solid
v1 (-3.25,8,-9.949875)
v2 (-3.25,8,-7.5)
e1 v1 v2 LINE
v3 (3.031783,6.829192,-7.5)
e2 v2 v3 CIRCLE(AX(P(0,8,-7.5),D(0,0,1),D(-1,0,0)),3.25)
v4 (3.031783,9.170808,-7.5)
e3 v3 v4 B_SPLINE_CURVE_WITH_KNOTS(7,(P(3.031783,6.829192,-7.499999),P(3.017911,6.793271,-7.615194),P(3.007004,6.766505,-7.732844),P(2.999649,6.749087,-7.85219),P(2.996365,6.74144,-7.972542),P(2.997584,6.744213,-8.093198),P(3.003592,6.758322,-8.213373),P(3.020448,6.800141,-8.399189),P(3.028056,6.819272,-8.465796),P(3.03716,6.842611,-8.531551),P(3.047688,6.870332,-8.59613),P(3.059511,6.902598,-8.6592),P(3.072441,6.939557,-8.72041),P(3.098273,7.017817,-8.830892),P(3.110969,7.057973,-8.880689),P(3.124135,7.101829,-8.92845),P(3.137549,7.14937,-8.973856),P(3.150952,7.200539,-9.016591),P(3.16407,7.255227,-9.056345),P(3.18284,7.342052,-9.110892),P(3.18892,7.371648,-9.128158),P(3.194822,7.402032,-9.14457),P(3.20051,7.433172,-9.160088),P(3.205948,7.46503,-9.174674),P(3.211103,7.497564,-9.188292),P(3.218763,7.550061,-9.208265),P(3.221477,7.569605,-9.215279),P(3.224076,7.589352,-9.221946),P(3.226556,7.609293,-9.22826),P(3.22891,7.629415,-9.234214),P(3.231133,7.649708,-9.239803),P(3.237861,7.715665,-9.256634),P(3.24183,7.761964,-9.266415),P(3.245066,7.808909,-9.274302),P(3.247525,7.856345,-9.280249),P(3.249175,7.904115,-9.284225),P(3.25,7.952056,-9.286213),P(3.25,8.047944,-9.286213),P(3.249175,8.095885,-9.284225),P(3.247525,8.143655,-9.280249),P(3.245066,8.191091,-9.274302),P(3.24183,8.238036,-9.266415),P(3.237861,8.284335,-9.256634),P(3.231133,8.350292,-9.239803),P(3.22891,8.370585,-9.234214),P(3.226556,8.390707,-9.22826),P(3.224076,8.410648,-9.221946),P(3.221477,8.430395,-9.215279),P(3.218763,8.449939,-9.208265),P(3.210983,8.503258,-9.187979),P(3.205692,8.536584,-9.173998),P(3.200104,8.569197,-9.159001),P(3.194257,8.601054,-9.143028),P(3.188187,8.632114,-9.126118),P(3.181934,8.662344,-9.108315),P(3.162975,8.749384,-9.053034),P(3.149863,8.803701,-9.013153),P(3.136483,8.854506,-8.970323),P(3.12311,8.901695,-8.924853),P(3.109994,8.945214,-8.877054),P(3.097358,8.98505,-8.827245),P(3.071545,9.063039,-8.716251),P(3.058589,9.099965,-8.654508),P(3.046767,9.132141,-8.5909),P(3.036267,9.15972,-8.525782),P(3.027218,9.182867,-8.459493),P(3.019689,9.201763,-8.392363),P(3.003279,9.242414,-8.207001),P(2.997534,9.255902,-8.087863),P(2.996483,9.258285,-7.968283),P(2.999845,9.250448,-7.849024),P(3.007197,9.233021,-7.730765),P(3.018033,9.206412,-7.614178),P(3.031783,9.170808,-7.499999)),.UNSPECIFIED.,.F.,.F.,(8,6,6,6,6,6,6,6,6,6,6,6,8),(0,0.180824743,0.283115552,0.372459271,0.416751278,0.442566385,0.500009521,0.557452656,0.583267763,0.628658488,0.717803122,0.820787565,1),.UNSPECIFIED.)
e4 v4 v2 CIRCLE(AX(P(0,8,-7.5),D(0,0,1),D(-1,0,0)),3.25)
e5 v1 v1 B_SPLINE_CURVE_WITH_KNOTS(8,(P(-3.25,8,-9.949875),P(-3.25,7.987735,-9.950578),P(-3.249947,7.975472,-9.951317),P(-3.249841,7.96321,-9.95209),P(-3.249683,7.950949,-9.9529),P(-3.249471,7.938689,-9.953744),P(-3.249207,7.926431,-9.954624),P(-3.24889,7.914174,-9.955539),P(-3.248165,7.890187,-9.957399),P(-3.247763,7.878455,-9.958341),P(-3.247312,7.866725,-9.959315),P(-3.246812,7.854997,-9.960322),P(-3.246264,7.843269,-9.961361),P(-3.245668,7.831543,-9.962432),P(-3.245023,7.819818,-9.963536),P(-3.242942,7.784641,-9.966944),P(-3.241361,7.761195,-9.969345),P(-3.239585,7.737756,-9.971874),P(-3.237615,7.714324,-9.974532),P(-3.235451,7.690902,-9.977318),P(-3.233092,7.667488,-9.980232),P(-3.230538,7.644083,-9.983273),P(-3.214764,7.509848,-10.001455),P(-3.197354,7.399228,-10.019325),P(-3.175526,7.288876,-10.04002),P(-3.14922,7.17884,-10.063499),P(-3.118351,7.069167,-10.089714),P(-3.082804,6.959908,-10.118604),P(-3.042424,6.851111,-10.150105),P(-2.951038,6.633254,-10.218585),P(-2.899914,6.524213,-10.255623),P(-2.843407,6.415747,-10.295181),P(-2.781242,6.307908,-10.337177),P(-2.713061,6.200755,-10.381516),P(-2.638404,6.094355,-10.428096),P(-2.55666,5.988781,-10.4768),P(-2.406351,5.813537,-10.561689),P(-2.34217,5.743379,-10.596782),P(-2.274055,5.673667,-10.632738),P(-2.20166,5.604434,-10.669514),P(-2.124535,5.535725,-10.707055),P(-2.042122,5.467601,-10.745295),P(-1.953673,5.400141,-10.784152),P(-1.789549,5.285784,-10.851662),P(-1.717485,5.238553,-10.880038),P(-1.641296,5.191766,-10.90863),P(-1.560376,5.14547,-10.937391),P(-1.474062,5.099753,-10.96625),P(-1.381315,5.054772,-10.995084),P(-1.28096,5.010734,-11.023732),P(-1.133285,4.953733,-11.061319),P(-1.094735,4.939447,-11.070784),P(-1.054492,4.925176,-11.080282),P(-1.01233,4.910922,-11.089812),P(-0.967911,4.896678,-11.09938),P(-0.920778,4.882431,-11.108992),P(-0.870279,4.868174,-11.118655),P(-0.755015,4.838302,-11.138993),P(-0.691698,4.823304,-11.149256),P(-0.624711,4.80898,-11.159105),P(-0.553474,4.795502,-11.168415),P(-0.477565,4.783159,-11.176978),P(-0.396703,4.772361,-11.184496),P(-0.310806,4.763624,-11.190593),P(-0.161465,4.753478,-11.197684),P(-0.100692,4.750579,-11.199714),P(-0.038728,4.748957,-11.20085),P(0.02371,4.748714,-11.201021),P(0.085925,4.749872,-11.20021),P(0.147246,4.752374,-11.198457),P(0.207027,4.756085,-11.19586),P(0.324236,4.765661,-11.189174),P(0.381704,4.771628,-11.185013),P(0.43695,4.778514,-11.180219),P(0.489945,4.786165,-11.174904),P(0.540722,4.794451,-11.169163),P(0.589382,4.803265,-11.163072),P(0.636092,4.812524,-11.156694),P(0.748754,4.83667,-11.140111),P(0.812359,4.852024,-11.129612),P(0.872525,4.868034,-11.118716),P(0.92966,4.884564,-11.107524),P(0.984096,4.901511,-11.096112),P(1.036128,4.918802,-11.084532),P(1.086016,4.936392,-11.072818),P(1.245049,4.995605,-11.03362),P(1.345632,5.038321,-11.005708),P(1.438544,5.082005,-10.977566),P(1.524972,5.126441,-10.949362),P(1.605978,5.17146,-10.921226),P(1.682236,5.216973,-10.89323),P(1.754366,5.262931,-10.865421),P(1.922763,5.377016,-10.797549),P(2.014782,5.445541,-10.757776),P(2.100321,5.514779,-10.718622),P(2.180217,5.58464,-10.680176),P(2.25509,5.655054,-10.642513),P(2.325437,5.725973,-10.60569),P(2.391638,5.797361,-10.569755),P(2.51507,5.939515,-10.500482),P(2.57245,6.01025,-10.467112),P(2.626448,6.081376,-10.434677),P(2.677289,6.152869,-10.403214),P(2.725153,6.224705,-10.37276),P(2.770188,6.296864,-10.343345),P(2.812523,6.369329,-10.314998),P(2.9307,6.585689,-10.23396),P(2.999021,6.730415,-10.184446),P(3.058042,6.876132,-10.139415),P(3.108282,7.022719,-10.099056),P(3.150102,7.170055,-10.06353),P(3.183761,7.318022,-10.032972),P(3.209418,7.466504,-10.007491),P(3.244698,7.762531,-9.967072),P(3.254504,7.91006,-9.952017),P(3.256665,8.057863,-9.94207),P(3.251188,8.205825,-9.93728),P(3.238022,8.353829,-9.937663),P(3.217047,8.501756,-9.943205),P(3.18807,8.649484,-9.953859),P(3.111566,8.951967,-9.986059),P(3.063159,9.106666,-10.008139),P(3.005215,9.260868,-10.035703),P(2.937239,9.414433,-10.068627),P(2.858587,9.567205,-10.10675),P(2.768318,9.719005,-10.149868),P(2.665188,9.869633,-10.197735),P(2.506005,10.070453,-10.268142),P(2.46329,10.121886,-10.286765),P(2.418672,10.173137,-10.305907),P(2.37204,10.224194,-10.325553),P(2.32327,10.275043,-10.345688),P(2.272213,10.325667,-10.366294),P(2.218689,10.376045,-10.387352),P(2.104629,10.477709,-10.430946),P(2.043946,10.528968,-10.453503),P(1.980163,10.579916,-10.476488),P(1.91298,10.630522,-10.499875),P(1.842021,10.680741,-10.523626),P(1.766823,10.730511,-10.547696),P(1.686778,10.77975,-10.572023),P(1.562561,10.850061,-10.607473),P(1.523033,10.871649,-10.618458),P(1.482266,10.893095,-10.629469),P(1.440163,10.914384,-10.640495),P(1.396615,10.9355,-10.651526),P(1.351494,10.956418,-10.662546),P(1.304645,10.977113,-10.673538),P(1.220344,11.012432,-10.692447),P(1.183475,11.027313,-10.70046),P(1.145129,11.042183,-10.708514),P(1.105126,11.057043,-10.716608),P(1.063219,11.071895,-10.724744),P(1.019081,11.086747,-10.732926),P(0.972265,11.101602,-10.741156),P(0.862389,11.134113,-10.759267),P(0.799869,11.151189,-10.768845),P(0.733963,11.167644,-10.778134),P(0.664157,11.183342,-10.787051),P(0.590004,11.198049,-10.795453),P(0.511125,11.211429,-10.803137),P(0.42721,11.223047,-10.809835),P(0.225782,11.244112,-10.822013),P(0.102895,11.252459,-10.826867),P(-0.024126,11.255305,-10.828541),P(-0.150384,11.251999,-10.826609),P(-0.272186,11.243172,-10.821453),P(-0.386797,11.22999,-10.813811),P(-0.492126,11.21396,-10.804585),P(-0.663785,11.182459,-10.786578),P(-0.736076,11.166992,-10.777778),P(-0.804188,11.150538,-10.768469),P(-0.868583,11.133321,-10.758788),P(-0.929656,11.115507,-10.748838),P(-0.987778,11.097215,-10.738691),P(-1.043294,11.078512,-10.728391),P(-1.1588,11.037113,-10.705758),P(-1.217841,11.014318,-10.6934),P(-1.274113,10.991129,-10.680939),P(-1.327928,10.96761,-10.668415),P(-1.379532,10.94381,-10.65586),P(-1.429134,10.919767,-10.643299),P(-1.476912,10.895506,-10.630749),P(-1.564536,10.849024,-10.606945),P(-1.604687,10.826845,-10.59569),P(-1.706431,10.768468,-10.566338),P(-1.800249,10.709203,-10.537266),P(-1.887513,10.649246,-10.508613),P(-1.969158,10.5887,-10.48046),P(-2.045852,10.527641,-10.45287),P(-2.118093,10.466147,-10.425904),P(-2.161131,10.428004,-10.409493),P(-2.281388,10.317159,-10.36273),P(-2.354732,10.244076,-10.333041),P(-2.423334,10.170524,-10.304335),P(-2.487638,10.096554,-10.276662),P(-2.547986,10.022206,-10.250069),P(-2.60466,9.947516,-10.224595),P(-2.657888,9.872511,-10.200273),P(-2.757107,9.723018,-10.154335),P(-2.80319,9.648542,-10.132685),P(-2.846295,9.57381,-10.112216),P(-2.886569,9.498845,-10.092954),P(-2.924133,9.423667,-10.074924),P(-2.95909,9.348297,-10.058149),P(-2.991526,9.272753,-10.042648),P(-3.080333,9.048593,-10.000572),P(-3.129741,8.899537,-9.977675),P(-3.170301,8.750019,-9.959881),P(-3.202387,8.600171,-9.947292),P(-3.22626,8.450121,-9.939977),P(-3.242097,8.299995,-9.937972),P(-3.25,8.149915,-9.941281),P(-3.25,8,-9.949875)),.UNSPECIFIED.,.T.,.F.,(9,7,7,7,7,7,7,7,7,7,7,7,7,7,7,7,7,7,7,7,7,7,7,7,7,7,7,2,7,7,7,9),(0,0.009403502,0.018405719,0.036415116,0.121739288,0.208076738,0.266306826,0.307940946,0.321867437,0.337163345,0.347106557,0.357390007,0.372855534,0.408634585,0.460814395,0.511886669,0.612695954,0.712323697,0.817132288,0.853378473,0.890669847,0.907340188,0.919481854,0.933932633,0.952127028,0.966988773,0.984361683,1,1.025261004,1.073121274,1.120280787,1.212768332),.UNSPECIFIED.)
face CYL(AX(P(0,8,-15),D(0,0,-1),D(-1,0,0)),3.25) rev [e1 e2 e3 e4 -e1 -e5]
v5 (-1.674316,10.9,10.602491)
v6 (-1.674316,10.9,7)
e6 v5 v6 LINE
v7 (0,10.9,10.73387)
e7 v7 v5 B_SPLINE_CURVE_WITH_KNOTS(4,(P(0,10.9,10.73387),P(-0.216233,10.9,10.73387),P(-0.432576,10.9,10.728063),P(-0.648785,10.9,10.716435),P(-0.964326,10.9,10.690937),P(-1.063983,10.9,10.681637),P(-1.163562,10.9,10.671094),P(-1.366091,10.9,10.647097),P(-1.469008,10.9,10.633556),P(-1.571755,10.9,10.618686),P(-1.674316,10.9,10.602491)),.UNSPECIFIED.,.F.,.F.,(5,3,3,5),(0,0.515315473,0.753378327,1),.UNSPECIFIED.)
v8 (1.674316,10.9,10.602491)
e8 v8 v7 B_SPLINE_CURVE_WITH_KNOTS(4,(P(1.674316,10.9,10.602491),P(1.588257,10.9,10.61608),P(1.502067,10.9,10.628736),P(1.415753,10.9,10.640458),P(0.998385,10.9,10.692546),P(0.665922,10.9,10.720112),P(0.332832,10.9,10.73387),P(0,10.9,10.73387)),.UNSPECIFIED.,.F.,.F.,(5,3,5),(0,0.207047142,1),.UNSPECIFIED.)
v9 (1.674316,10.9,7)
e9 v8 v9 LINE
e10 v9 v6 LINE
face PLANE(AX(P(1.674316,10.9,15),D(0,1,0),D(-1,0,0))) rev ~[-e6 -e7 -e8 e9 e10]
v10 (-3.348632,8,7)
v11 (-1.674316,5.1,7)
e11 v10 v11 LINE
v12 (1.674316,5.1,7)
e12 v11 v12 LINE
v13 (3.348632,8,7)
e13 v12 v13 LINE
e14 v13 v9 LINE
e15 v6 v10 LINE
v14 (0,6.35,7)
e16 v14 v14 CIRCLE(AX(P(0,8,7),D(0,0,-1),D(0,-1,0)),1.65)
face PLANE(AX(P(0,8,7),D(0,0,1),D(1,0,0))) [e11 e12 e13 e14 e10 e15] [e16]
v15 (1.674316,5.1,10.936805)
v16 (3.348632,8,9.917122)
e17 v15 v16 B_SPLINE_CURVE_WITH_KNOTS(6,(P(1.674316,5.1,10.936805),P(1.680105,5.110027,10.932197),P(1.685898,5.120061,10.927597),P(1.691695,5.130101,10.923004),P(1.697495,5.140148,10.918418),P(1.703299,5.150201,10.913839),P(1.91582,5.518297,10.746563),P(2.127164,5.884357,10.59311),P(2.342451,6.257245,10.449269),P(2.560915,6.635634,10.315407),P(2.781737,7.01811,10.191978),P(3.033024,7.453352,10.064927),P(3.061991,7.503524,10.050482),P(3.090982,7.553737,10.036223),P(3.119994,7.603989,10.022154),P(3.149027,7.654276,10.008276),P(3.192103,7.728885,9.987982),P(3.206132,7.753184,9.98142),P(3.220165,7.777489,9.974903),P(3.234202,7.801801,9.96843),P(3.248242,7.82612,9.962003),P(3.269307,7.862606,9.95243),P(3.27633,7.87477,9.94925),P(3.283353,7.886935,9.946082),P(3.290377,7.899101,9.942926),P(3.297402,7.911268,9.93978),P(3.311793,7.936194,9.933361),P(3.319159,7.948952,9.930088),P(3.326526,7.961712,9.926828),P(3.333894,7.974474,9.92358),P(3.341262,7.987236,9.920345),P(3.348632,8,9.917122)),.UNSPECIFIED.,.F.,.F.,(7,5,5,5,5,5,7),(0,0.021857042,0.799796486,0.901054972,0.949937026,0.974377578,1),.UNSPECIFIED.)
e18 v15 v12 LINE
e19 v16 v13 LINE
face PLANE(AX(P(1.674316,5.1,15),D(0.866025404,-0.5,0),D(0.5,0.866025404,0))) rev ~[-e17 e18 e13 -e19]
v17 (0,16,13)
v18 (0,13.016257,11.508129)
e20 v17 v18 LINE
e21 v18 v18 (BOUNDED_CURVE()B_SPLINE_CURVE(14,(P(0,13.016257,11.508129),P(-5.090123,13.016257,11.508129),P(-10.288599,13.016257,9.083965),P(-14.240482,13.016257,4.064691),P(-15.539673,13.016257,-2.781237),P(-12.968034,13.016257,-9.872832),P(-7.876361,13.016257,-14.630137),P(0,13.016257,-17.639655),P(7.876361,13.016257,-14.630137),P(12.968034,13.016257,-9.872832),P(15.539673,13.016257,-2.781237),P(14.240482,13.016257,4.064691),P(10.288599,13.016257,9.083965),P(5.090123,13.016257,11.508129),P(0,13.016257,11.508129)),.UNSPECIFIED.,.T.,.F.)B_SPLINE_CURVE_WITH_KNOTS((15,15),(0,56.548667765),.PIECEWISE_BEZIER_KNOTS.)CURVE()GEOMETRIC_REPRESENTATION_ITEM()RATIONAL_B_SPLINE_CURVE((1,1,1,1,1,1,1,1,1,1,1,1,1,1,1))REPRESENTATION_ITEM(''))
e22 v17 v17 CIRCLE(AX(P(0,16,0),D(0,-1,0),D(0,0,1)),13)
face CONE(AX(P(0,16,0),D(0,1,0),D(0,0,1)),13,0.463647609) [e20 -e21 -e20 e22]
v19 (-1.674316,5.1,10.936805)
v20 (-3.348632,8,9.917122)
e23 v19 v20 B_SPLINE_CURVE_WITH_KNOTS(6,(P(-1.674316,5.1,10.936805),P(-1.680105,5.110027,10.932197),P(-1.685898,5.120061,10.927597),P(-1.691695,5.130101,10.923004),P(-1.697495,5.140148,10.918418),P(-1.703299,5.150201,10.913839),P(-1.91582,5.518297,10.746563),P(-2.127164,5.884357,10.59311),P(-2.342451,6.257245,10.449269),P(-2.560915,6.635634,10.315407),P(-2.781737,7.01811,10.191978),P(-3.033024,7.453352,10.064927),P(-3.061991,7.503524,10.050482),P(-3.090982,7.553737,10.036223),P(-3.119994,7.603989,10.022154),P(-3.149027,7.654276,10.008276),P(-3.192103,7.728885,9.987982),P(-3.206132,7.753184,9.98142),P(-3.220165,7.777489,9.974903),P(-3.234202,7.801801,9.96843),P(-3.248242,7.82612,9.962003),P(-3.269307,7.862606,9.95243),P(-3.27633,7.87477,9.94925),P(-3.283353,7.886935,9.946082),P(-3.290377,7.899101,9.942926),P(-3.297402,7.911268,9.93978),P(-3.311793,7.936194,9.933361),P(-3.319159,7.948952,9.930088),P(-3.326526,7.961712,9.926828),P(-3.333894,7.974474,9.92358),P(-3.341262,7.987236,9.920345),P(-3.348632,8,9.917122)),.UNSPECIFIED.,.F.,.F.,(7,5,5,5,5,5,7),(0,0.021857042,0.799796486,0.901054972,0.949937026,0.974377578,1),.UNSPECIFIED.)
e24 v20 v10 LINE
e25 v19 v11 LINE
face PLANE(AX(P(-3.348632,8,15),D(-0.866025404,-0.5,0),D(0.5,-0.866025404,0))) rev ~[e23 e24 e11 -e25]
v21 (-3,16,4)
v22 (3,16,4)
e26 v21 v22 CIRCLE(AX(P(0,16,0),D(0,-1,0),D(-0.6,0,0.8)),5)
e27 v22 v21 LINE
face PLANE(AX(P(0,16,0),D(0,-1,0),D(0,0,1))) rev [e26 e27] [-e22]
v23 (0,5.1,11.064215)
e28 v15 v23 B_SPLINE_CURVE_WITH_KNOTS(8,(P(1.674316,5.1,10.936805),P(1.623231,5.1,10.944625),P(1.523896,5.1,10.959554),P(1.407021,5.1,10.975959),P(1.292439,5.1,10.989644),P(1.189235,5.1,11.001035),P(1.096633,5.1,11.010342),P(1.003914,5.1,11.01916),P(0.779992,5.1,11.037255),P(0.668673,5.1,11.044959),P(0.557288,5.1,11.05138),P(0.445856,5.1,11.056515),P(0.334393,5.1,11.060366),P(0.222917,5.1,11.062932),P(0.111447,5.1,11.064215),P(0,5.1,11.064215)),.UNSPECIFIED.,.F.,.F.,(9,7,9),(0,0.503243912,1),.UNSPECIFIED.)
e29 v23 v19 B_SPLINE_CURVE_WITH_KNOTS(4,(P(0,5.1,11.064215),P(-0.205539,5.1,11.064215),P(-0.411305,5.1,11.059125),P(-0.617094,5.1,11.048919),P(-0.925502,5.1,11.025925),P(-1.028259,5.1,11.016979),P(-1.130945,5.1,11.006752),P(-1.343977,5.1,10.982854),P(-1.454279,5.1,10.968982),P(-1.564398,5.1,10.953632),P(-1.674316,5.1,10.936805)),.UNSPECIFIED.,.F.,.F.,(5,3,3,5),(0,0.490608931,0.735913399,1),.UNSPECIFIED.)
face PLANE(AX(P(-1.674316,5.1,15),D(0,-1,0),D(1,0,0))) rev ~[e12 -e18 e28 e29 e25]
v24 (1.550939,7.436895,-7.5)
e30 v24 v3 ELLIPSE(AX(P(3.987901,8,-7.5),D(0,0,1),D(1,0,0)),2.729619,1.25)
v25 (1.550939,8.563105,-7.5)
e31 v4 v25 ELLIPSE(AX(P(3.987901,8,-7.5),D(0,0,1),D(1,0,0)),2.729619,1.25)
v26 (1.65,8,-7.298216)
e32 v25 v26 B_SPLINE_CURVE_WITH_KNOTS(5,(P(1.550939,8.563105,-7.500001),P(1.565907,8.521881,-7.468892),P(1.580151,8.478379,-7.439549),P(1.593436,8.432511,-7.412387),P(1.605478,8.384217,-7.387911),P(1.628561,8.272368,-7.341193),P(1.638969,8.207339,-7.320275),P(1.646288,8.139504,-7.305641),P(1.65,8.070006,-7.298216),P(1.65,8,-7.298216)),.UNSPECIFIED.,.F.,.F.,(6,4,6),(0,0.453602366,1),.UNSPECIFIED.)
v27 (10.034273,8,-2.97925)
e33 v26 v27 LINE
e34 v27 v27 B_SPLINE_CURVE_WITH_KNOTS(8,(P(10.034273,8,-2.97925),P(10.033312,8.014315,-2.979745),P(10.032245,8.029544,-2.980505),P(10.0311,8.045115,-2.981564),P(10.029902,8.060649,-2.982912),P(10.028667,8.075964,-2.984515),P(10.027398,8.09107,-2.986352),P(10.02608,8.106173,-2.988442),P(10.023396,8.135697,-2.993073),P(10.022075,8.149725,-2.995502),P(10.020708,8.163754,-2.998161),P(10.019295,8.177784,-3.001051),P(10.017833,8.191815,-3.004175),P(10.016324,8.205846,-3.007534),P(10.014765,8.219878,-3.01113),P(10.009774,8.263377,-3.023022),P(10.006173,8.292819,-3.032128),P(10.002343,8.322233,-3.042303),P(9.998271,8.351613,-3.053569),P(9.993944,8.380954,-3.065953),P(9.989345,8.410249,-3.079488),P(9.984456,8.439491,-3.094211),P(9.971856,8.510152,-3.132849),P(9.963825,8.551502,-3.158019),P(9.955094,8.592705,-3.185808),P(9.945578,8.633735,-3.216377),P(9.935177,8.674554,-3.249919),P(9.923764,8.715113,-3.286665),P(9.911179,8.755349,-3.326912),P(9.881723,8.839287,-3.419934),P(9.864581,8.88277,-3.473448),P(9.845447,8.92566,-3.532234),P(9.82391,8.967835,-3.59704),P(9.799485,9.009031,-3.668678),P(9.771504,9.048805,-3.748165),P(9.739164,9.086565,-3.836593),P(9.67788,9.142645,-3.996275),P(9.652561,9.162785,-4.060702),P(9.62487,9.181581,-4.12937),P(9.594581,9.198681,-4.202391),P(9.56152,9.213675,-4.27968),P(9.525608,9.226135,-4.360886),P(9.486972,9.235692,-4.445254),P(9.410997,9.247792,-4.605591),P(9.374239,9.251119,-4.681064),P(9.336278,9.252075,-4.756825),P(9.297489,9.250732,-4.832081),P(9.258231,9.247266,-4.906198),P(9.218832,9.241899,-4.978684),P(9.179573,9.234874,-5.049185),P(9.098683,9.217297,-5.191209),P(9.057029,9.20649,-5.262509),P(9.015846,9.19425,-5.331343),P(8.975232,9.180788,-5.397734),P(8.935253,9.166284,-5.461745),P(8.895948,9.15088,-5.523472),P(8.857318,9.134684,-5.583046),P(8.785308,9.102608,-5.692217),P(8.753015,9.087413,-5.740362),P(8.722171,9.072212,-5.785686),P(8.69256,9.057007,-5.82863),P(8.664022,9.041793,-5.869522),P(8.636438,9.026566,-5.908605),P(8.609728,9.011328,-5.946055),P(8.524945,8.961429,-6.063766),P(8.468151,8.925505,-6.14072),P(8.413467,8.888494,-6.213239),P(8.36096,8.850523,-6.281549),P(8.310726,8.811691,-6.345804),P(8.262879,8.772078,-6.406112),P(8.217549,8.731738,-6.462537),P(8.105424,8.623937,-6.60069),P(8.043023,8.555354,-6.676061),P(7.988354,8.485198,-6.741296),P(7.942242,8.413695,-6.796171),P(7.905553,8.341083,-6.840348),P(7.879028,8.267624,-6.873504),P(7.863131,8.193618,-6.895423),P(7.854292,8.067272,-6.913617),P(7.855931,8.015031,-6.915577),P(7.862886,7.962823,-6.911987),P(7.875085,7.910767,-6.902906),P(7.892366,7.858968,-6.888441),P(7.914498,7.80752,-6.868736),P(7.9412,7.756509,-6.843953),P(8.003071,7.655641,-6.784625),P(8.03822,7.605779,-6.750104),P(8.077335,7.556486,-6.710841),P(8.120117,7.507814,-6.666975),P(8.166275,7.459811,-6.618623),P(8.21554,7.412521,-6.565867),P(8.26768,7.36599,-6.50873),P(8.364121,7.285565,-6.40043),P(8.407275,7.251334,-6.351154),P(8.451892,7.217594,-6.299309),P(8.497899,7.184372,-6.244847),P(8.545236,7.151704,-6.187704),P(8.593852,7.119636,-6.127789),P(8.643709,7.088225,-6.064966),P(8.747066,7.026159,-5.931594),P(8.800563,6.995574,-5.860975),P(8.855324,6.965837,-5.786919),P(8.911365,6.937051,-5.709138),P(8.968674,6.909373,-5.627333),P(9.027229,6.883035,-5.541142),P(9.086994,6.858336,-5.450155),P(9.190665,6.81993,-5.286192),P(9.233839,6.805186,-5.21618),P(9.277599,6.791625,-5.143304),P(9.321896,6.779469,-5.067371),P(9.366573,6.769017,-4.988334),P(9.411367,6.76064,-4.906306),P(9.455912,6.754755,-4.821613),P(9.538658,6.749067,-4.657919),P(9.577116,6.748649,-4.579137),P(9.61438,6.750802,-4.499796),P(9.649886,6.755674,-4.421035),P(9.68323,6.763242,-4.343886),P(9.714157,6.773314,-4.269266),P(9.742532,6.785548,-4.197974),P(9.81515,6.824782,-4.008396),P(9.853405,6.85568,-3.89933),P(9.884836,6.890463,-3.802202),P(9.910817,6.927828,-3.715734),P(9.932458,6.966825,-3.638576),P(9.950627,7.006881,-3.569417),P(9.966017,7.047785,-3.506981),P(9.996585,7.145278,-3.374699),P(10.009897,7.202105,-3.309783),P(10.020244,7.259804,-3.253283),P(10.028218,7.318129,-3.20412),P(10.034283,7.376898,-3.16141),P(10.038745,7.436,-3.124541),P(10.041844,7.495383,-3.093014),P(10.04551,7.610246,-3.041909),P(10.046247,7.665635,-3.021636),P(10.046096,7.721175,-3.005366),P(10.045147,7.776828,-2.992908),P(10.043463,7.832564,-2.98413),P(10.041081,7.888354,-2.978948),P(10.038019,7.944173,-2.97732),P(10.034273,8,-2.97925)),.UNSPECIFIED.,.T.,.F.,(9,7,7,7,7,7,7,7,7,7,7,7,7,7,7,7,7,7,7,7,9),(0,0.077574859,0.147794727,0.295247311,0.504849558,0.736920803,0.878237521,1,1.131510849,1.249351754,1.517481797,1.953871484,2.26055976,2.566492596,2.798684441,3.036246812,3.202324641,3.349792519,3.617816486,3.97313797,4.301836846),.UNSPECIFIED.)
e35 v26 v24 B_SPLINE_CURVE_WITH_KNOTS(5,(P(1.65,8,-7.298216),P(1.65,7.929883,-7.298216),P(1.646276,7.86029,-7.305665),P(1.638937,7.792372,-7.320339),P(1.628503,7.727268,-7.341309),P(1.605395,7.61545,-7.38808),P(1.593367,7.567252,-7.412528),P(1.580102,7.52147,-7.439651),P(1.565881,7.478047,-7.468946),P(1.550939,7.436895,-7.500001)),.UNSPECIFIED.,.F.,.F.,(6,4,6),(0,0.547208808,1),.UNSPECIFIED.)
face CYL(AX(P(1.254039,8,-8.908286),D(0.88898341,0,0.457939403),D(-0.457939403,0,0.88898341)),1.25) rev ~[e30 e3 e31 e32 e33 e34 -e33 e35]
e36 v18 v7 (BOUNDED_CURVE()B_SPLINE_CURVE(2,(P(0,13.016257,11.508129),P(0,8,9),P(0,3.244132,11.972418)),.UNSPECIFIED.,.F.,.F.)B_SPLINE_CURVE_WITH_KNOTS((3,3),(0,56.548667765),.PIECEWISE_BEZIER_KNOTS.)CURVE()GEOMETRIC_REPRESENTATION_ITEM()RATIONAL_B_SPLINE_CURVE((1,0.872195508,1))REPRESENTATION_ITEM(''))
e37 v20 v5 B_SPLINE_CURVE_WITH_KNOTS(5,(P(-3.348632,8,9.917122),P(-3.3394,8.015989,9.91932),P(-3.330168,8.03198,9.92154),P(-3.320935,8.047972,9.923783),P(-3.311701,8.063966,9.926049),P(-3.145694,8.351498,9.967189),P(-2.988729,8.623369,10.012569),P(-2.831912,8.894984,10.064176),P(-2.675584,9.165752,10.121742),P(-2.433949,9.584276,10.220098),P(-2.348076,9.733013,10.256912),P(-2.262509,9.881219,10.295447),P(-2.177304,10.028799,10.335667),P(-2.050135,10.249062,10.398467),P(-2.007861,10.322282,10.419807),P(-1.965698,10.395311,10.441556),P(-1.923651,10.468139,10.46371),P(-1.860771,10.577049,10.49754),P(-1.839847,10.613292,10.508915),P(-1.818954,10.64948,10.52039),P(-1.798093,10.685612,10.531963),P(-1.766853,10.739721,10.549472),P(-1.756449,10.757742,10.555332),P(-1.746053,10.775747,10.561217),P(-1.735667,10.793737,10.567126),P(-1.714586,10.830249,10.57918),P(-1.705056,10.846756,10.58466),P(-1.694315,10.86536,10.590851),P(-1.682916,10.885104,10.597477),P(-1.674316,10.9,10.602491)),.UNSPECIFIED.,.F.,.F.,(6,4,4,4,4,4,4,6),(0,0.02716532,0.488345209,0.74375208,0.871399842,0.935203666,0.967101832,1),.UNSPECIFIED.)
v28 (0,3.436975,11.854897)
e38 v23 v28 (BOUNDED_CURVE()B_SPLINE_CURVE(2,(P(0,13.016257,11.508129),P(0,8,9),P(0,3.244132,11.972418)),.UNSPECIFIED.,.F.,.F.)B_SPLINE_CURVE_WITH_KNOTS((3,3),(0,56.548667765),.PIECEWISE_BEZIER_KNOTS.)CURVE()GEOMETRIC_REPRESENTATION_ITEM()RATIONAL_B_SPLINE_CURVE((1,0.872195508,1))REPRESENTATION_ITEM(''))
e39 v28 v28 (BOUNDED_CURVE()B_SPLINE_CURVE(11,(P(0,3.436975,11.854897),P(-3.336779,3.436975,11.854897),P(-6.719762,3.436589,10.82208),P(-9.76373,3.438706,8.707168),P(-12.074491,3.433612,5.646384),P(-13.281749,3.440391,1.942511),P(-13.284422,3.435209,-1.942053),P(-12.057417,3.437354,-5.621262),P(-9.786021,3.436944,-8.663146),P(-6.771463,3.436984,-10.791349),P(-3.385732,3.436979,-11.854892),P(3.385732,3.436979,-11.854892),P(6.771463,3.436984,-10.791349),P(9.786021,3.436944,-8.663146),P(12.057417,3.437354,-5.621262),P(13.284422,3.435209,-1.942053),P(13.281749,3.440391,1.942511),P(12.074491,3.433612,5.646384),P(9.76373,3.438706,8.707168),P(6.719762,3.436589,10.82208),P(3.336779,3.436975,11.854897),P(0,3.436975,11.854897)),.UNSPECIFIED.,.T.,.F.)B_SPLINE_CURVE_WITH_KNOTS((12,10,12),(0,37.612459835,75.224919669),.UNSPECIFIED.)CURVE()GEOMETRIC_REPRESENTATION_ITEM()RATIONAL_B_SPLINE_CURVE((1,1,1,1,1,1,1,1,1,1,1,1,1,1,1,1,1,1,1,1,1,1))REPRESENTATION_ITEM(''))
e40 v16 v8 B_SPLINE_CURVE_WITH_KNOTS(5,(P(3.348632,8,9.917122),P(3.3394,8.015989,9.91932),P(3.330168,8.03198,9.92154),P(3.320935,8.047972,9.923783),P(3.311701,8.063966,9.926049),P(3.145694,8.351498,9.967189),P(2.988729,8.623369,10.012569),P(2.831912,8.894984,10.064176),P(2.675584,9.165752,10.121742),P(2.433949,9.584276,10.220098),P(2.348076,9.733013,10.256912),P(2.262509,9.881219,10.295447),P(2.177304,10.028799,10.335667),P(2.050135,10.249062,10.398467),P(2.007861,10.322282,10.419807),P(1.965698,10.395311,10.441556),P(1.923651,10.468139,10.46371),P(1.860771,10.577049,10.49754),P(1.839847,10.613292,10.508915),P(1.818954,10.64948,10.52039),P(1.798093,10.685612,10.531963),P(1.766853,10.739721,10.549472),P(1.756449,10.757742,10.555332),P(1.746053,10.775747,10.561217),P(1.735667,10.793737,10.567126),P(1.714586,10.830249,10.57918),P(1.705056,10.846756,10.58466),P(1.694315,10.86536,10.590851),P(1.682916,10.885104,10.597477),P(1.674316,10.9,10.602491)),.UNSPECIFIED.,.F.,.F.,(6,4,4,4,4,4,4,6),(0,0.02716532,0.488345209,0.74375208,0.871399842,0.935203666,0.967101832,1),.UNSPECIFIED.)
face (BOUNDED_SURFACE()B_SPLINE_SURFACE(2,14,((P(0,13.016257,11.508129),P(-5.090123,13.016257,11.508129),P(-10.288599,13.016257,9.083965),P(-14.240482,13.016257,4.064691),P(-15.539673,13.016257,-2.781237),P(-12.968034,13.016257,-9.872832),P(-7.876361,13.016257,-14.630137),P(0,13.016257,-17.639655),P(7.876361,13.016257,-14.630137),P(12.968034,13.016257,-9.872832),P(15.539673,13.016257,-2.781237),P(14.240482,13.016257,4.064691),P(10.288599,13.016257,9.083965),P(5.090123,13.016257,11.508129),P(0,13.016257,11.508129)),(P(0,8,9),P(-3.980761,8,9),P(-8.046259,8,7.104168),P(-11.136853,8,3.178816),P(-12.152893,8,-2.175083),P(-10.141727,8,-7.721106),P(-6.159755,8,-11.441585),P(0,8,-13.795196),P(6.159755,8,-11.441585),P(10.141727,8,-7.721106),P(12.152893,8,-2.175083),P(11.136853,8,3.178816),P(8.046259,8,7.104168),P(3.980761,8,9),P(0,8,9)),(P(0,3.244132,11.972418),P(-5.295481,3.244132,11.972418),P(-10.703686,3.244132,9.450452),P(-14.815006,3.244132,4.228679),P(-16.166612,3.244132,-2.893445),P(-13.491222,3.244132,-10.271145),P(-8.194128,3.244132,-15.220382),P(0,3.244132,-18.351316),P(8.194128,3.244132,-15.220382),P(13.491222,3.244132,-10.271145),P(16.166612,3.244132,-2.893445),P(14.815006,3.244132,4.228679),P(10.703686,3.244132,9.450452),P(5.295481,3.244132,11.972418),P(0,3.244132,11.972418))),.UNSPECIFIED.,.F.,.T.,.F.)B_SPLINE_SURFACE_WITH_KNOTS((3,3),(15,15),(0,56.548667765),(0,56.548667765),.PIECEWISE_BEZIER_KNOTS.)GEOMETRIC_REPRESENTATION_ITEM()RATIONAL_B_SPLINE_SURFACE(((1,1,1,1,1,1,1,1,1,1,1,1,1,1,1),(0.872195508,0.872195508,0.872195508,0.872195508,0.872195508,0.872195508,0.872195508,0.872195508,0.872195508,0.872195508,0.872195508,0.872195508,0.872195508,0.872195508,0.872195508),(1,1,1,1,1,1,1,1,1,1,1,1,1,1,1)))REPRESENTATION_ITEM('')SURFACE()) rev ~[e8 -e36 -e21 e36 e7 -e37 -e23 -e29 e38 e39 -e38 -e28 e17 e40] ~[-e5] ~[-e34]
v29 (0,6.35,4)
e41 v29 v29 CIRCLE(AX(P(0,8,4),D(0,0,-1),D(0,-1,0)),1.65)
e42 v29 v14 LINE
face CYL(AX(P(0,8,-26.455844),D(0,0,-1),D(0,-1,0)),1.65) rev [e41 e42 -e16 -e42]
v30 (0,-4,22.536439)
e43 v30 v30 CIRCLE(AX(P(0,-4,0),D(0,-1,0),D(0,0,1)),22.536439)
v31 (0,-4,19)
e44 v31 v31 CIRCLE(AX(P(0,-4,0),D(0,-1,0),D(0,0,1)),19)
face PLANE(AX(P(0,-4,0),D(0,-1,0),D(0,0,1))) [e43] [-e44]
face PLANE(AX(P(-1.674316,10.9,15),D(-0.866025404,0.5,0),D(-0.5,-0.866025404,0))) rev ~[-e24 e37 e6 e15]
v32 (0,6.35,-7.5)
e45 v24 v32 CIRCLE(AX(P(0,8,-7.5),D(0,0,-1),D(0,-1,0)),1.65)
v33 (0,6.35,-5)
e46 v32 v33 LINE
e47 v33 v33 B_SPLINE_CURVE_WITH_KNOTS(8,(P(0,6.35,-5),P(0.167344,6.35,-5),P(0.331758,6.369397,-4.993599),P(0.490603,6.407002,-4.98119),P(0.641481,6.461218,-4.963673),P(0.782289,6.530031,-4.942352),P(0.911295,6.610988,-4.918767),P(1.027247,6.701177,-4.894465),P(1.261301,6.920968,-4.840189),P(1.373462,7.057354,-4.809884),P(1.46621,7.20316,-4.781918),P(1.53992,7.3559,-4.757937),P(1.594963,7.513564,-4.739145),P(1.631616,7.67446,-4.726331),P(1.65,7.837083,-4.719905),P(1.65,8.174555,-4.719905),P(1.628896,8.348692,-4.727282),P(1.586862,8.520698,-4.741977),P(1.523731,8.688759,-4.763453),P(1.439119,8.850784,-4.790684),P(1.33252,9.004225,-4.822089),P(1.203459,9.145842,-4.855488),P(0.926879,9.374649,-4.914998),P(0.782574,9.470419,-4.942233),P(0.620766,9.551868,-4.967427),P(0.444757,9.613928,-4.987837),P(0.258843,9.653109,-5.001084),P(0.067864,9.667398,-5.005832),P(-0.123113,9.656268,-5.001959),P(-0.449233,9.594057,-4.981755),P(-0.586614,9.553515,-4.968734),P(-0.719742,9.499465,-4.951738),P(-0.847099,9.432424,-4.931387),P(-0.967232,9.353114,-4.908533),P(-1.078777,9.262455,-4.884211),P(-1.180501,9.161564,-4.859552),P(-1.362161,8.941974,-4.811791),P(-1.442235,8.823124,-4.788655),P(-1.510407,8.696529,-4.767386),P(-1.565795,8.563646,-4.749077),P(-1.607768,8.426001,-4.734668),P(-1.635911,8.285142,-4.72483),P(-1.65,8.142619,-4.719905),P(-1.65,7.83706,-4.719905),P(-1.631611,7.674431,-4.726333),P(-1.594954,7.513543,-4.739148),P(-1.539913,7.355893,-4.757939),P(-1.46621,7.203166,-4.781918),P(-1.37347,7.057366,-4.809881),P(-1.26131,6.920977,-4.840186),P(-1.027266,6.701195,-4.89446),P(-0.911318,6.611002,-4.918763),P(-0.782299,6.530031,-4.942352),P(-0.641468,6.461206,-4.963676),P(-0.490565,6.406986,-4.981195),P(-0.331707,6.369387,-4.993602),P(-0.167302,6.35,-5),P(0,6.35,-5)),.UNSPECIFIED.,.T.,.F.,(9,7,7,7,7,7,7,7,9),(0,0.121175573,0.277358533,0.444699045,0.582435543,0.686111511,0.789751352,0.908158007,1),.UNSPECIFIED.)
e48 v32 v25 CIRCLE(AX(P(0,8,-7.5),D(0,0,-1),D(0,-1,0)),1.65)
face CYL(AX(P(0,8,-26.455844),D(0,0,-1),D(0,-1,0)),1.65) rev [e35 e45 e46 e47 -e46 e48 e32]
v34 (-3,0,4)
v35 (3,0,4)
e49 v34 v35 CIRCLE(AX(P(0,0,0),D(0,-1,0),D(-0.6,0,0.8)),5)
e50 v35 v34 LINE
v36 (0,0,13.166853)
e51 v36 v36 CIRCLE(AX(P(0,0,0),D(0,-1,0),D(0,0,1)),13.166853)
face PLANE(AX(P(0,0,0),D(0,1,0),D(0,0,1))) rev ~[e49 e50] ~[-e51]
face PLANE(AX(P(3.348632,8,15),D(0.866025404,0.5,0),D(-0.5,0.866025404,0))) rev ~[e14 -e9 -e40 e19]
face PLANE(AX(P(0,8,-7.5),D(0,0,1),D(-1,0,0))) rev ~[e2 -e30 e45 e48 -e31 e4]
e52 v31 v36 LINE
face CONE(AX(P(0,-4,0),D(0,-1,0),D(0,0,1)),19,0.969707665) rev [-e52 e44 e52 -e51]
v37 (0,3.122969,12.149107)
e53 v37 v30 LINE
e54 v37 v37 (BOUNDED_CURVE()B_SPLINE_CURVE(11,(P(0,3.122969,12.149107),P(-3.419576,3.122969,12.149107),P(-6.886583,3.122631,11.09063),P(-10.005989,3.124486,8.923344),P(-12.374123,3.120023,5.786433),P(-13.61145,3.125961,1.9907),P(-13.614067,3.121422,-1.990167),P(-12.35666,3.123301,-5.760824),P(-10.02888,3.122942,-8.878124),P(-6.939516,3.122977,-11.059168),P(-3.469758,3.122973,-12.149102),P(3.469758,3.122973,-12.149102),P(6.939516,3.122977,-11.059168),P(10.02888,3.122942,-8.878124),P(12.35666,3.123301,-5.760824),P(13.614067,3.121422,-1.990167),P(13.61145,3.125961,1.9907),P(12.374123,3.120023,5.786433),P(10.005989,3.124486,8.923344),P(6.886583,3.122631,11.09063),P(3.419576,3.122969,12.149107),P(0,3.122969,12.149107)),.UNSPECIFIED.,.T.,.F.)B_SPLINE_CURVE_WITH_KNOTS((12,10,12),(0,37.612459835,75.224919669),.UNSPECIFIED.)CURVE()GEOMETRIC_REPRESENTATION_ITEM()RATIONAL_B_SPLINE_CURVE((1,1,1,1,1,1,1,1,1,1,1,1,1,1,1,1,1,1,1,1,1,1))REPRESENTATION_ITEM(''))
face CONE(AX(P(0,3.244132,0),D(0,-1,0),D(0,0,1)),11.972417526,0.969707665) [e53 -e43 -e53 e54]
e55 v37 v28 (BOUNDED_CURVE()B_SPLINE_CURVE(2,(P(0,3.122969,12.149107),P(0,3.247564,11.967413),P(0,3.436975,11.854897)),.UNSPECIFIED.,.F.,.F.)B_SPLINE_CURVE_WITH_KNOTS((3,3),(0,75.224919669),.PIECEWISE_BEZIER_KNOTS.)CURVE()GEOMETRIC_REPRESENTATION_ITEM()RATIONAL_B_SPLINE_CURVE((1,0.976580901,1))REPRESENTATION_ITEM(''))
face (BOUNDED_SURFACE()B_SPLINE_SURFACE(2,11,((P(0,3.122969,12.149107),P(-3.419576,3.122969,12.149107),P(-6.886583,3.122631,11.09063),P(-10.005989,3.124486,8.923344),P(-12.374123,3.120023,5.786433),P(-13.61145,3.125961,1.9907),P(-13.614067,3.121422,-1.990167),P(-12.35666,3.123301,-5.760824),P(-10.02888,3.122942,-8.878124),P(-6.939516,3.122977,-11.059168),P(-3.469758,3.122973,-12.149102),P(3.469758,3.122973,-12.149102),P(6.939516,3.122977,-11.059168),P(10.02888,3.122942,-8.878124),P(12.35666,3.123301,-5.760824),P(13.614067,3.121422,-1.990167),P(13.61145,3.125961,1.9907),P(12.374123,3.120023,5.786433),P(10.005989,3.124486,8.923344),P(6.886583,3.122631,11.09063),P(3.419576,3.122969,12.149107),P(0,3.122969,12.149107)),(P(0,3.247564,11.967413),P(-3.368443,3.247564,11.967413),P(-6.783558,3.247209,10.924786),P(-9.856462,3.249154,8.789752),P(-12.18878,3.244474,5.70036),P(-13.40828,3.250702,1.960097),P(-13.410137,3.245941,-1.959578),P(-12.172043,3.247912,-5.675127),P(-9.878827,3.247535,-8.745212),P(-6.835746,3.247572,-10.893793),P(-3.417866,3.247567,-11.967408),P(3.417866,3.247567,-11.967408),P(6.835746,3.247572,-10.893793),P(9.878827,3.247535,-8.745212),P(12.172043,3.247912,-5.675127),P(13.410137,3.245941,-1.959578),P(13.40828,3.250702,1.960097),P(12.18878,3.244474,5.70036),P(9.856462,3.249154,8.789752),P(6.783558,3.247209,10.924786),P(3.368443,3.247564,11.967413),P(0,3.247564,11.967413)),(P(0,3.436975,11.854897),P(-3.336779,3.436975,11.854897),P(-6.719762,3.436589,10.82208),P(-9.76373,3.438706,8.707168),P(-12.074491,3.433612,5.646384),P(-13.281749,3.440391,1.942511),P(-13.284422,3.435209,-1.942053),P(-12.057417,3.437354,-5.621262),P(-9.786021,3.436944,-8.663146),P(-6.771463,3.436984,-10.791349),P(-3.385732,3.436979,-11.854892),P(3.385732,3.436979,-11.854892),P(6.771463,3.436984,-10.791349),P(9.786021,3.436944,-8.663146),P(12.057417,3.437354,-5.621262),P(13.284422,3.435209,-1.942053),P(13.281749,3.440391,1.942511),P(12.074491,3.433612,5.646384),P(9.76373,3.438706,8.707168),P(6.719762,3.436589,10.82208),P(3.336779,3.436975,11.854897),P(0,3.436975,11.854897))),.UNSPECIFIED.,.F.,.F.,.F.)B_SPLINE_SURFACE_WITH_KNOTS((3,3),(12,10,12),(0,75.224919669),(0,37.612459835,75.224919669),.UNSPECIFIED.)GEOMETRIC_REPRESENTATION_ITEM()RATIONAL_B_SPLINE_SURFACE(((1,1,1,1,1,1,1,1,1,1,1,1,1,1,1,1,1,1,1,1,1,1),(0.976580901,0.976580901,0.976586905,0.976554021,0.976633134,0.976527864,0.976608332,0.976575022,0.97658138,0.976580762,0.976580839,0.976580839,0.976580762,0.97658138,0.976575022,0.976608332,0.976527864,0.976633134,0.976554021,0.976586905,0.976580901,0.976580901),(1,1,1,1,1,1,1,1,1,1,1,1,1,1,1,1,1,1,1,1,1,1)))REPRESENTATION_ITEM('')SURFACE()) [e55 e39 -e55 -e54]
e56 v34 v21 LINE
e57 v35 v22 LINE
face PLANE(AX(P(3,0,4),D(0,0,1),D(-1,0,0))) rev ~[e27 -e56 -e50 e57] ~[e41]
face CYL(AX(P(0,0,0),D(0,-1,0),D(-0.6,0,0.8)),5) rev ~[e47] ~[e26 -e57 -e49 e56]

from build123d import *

# Parameters (mm, degrees)
SKETCH_1_R               = 8
EXTRUDE_1_DEPTH          = 16
FILLET_1_R               = 10
CUT_EXTRUDE_1_DEPTH      = 26.455844296
CUT_EXTRUDE_1_DEPTH_BACK = 26.455844296
SKETCH_3_R               = 1.65
CUT_EXTRUDE_2_DEPTH      = 8
SKETCH_6_R               = 3.25
CUT_EXTRUDE_3_DEPTH      = 7.5
FILLET_2_R               = 1


with BuildPart() as part:
    # 草图1 → 凸台-拉伸1 (new body)
    with BuildSketch(Plane(origin=(0, 0, 0), x_dir=(1, 0, 0), z_dir=(0, 1, 0))):
        with Locations(Location((0, 0, 0), (0, 0, 270))):
            Circle(SKETCH_1_R)
        with BuildLine():
            Line((3, -4), (-3, -4))
            ThreePointArc((-3, -4), (0, 5), (3, -4))
        make_face(mode=Mode.SUBTRACT)
    extrude(amount=EXTRUDE_1_DEPTH)

    # 草图2 → 旋转1 (revolve)
    with BuildSketch(Plane.XY, mode=Mode.PRIVATE) as revolve_1_sk:
        Polygon((8, 16), (13, 16), (9, 8), (14, 0), (8, 0), align=None)
    revolve(revolve_1_sk.sketch.rotate(Axis((0, 19.267994754, 0), (0, -1, 0)), 90), axis=Axis((0, 19.267994754, 0), (0, -1, 0)))

    # 圆角1
    fillet_1_edges = [part.edges().sort_by_distance(p)[0] for p in [
        (0, 8, -9),
    ]]
    fillet(fillet_1_edges, radius=FILLET_1_R)

    # 草图3 → 切除-拉伸1 (cut, two sides: drawn at the far end of the back side and taken through both)
    with BuildSketch(Plane.XY.offset(-CUT_EXTRUDE_1_DEPTH_BACK)):
        with Locations(Location((0, 8, 0), (0, 0, 270.000000028))):
            Circle(SKETCH_3_R)
    extrude(amount=CUT_EXTRUDE_1_DEPTH + CUT_EXTRUDE_1_DEPTH_BACK, mode=Mode.SUBTRACT)

    # 草图4 → 切除-拉伸2 (cut)
    with BuildSketch(Plane.XY.offset(15)):
        Polygon((3.348631561, 8), (1.674315781, 10.9), (-1.674315781, 10.9), (-3.348631561, 8), (-1.674315781, 5.1), (1.674315781, 5.1), align=None)
    extrude(amount=-CUT_EXTRUDE_2_DEPTH, mode=Mode.SUBTRACT)

    # 草图6 → 切除-拉伸3 (cut)
    with BuildSketch(Plane.XY.offset(-15)):
        with Locations(Location((0, 8, 0), (0, 0, 180))):
            Circle(SKETCH_6_R)
    extrude(amount=CUT_EXTRUDE_3_DEPTH, mode=Mode.SUBTRACT)

    # 草图7 → 旋转2 (revolve)
    with BuildSketch(Plane.XY, mode=Mode.PRIVATE) as revolve_2_sk:
        Polygon((11.972417526, 3.244131958), (22.536438981, -4), (19, -4), (13.166853107, 0), align=None)
    revolve(revolve_2_sk.sketch.rotate(Axis((0, 21.03700922, 0), (0, -1, 0)), 90), axis=Axis((0, 21.03700922, 0), (0, -1, 0)))

    # 圆角2
    fillet_2_edges = [part.edges().sort_by_distance(p)[0] for p in [
        (0, 3.244131958, -11.97241447),
    ]]
    fillet(fillet_2_edges, radius=FILLET_2_R)

    # 草图10 → 切除-旋转1 (revolve, cut)
    with BuildSketch(Plane(origin=(0, 8, 0), x_dir=(1, 0, 0), z_dir=(0, 1, 0)), mode=Mode.PRIVATE) as cut_revolve_1_sk:
        Polygon((1.254039401, 8.908286257), (1.826463655, 10.019515519), (14.936167514, 3.266352423), (14.36374326, 2.155123161), align=None)
    revolve(cut_revolve_1_sk.sketch.rotate(Axis((14.36374326, 8, -2.155123161), (0.8889834100103146, 0, 0.45793940289784313)), 180), axis=Axis((14.36374326, 8, -2.155123161), (0.8889834100103146, 0, 0.45793940289784313)), mode=Mode.SUBTRACT)


solid = part.part
